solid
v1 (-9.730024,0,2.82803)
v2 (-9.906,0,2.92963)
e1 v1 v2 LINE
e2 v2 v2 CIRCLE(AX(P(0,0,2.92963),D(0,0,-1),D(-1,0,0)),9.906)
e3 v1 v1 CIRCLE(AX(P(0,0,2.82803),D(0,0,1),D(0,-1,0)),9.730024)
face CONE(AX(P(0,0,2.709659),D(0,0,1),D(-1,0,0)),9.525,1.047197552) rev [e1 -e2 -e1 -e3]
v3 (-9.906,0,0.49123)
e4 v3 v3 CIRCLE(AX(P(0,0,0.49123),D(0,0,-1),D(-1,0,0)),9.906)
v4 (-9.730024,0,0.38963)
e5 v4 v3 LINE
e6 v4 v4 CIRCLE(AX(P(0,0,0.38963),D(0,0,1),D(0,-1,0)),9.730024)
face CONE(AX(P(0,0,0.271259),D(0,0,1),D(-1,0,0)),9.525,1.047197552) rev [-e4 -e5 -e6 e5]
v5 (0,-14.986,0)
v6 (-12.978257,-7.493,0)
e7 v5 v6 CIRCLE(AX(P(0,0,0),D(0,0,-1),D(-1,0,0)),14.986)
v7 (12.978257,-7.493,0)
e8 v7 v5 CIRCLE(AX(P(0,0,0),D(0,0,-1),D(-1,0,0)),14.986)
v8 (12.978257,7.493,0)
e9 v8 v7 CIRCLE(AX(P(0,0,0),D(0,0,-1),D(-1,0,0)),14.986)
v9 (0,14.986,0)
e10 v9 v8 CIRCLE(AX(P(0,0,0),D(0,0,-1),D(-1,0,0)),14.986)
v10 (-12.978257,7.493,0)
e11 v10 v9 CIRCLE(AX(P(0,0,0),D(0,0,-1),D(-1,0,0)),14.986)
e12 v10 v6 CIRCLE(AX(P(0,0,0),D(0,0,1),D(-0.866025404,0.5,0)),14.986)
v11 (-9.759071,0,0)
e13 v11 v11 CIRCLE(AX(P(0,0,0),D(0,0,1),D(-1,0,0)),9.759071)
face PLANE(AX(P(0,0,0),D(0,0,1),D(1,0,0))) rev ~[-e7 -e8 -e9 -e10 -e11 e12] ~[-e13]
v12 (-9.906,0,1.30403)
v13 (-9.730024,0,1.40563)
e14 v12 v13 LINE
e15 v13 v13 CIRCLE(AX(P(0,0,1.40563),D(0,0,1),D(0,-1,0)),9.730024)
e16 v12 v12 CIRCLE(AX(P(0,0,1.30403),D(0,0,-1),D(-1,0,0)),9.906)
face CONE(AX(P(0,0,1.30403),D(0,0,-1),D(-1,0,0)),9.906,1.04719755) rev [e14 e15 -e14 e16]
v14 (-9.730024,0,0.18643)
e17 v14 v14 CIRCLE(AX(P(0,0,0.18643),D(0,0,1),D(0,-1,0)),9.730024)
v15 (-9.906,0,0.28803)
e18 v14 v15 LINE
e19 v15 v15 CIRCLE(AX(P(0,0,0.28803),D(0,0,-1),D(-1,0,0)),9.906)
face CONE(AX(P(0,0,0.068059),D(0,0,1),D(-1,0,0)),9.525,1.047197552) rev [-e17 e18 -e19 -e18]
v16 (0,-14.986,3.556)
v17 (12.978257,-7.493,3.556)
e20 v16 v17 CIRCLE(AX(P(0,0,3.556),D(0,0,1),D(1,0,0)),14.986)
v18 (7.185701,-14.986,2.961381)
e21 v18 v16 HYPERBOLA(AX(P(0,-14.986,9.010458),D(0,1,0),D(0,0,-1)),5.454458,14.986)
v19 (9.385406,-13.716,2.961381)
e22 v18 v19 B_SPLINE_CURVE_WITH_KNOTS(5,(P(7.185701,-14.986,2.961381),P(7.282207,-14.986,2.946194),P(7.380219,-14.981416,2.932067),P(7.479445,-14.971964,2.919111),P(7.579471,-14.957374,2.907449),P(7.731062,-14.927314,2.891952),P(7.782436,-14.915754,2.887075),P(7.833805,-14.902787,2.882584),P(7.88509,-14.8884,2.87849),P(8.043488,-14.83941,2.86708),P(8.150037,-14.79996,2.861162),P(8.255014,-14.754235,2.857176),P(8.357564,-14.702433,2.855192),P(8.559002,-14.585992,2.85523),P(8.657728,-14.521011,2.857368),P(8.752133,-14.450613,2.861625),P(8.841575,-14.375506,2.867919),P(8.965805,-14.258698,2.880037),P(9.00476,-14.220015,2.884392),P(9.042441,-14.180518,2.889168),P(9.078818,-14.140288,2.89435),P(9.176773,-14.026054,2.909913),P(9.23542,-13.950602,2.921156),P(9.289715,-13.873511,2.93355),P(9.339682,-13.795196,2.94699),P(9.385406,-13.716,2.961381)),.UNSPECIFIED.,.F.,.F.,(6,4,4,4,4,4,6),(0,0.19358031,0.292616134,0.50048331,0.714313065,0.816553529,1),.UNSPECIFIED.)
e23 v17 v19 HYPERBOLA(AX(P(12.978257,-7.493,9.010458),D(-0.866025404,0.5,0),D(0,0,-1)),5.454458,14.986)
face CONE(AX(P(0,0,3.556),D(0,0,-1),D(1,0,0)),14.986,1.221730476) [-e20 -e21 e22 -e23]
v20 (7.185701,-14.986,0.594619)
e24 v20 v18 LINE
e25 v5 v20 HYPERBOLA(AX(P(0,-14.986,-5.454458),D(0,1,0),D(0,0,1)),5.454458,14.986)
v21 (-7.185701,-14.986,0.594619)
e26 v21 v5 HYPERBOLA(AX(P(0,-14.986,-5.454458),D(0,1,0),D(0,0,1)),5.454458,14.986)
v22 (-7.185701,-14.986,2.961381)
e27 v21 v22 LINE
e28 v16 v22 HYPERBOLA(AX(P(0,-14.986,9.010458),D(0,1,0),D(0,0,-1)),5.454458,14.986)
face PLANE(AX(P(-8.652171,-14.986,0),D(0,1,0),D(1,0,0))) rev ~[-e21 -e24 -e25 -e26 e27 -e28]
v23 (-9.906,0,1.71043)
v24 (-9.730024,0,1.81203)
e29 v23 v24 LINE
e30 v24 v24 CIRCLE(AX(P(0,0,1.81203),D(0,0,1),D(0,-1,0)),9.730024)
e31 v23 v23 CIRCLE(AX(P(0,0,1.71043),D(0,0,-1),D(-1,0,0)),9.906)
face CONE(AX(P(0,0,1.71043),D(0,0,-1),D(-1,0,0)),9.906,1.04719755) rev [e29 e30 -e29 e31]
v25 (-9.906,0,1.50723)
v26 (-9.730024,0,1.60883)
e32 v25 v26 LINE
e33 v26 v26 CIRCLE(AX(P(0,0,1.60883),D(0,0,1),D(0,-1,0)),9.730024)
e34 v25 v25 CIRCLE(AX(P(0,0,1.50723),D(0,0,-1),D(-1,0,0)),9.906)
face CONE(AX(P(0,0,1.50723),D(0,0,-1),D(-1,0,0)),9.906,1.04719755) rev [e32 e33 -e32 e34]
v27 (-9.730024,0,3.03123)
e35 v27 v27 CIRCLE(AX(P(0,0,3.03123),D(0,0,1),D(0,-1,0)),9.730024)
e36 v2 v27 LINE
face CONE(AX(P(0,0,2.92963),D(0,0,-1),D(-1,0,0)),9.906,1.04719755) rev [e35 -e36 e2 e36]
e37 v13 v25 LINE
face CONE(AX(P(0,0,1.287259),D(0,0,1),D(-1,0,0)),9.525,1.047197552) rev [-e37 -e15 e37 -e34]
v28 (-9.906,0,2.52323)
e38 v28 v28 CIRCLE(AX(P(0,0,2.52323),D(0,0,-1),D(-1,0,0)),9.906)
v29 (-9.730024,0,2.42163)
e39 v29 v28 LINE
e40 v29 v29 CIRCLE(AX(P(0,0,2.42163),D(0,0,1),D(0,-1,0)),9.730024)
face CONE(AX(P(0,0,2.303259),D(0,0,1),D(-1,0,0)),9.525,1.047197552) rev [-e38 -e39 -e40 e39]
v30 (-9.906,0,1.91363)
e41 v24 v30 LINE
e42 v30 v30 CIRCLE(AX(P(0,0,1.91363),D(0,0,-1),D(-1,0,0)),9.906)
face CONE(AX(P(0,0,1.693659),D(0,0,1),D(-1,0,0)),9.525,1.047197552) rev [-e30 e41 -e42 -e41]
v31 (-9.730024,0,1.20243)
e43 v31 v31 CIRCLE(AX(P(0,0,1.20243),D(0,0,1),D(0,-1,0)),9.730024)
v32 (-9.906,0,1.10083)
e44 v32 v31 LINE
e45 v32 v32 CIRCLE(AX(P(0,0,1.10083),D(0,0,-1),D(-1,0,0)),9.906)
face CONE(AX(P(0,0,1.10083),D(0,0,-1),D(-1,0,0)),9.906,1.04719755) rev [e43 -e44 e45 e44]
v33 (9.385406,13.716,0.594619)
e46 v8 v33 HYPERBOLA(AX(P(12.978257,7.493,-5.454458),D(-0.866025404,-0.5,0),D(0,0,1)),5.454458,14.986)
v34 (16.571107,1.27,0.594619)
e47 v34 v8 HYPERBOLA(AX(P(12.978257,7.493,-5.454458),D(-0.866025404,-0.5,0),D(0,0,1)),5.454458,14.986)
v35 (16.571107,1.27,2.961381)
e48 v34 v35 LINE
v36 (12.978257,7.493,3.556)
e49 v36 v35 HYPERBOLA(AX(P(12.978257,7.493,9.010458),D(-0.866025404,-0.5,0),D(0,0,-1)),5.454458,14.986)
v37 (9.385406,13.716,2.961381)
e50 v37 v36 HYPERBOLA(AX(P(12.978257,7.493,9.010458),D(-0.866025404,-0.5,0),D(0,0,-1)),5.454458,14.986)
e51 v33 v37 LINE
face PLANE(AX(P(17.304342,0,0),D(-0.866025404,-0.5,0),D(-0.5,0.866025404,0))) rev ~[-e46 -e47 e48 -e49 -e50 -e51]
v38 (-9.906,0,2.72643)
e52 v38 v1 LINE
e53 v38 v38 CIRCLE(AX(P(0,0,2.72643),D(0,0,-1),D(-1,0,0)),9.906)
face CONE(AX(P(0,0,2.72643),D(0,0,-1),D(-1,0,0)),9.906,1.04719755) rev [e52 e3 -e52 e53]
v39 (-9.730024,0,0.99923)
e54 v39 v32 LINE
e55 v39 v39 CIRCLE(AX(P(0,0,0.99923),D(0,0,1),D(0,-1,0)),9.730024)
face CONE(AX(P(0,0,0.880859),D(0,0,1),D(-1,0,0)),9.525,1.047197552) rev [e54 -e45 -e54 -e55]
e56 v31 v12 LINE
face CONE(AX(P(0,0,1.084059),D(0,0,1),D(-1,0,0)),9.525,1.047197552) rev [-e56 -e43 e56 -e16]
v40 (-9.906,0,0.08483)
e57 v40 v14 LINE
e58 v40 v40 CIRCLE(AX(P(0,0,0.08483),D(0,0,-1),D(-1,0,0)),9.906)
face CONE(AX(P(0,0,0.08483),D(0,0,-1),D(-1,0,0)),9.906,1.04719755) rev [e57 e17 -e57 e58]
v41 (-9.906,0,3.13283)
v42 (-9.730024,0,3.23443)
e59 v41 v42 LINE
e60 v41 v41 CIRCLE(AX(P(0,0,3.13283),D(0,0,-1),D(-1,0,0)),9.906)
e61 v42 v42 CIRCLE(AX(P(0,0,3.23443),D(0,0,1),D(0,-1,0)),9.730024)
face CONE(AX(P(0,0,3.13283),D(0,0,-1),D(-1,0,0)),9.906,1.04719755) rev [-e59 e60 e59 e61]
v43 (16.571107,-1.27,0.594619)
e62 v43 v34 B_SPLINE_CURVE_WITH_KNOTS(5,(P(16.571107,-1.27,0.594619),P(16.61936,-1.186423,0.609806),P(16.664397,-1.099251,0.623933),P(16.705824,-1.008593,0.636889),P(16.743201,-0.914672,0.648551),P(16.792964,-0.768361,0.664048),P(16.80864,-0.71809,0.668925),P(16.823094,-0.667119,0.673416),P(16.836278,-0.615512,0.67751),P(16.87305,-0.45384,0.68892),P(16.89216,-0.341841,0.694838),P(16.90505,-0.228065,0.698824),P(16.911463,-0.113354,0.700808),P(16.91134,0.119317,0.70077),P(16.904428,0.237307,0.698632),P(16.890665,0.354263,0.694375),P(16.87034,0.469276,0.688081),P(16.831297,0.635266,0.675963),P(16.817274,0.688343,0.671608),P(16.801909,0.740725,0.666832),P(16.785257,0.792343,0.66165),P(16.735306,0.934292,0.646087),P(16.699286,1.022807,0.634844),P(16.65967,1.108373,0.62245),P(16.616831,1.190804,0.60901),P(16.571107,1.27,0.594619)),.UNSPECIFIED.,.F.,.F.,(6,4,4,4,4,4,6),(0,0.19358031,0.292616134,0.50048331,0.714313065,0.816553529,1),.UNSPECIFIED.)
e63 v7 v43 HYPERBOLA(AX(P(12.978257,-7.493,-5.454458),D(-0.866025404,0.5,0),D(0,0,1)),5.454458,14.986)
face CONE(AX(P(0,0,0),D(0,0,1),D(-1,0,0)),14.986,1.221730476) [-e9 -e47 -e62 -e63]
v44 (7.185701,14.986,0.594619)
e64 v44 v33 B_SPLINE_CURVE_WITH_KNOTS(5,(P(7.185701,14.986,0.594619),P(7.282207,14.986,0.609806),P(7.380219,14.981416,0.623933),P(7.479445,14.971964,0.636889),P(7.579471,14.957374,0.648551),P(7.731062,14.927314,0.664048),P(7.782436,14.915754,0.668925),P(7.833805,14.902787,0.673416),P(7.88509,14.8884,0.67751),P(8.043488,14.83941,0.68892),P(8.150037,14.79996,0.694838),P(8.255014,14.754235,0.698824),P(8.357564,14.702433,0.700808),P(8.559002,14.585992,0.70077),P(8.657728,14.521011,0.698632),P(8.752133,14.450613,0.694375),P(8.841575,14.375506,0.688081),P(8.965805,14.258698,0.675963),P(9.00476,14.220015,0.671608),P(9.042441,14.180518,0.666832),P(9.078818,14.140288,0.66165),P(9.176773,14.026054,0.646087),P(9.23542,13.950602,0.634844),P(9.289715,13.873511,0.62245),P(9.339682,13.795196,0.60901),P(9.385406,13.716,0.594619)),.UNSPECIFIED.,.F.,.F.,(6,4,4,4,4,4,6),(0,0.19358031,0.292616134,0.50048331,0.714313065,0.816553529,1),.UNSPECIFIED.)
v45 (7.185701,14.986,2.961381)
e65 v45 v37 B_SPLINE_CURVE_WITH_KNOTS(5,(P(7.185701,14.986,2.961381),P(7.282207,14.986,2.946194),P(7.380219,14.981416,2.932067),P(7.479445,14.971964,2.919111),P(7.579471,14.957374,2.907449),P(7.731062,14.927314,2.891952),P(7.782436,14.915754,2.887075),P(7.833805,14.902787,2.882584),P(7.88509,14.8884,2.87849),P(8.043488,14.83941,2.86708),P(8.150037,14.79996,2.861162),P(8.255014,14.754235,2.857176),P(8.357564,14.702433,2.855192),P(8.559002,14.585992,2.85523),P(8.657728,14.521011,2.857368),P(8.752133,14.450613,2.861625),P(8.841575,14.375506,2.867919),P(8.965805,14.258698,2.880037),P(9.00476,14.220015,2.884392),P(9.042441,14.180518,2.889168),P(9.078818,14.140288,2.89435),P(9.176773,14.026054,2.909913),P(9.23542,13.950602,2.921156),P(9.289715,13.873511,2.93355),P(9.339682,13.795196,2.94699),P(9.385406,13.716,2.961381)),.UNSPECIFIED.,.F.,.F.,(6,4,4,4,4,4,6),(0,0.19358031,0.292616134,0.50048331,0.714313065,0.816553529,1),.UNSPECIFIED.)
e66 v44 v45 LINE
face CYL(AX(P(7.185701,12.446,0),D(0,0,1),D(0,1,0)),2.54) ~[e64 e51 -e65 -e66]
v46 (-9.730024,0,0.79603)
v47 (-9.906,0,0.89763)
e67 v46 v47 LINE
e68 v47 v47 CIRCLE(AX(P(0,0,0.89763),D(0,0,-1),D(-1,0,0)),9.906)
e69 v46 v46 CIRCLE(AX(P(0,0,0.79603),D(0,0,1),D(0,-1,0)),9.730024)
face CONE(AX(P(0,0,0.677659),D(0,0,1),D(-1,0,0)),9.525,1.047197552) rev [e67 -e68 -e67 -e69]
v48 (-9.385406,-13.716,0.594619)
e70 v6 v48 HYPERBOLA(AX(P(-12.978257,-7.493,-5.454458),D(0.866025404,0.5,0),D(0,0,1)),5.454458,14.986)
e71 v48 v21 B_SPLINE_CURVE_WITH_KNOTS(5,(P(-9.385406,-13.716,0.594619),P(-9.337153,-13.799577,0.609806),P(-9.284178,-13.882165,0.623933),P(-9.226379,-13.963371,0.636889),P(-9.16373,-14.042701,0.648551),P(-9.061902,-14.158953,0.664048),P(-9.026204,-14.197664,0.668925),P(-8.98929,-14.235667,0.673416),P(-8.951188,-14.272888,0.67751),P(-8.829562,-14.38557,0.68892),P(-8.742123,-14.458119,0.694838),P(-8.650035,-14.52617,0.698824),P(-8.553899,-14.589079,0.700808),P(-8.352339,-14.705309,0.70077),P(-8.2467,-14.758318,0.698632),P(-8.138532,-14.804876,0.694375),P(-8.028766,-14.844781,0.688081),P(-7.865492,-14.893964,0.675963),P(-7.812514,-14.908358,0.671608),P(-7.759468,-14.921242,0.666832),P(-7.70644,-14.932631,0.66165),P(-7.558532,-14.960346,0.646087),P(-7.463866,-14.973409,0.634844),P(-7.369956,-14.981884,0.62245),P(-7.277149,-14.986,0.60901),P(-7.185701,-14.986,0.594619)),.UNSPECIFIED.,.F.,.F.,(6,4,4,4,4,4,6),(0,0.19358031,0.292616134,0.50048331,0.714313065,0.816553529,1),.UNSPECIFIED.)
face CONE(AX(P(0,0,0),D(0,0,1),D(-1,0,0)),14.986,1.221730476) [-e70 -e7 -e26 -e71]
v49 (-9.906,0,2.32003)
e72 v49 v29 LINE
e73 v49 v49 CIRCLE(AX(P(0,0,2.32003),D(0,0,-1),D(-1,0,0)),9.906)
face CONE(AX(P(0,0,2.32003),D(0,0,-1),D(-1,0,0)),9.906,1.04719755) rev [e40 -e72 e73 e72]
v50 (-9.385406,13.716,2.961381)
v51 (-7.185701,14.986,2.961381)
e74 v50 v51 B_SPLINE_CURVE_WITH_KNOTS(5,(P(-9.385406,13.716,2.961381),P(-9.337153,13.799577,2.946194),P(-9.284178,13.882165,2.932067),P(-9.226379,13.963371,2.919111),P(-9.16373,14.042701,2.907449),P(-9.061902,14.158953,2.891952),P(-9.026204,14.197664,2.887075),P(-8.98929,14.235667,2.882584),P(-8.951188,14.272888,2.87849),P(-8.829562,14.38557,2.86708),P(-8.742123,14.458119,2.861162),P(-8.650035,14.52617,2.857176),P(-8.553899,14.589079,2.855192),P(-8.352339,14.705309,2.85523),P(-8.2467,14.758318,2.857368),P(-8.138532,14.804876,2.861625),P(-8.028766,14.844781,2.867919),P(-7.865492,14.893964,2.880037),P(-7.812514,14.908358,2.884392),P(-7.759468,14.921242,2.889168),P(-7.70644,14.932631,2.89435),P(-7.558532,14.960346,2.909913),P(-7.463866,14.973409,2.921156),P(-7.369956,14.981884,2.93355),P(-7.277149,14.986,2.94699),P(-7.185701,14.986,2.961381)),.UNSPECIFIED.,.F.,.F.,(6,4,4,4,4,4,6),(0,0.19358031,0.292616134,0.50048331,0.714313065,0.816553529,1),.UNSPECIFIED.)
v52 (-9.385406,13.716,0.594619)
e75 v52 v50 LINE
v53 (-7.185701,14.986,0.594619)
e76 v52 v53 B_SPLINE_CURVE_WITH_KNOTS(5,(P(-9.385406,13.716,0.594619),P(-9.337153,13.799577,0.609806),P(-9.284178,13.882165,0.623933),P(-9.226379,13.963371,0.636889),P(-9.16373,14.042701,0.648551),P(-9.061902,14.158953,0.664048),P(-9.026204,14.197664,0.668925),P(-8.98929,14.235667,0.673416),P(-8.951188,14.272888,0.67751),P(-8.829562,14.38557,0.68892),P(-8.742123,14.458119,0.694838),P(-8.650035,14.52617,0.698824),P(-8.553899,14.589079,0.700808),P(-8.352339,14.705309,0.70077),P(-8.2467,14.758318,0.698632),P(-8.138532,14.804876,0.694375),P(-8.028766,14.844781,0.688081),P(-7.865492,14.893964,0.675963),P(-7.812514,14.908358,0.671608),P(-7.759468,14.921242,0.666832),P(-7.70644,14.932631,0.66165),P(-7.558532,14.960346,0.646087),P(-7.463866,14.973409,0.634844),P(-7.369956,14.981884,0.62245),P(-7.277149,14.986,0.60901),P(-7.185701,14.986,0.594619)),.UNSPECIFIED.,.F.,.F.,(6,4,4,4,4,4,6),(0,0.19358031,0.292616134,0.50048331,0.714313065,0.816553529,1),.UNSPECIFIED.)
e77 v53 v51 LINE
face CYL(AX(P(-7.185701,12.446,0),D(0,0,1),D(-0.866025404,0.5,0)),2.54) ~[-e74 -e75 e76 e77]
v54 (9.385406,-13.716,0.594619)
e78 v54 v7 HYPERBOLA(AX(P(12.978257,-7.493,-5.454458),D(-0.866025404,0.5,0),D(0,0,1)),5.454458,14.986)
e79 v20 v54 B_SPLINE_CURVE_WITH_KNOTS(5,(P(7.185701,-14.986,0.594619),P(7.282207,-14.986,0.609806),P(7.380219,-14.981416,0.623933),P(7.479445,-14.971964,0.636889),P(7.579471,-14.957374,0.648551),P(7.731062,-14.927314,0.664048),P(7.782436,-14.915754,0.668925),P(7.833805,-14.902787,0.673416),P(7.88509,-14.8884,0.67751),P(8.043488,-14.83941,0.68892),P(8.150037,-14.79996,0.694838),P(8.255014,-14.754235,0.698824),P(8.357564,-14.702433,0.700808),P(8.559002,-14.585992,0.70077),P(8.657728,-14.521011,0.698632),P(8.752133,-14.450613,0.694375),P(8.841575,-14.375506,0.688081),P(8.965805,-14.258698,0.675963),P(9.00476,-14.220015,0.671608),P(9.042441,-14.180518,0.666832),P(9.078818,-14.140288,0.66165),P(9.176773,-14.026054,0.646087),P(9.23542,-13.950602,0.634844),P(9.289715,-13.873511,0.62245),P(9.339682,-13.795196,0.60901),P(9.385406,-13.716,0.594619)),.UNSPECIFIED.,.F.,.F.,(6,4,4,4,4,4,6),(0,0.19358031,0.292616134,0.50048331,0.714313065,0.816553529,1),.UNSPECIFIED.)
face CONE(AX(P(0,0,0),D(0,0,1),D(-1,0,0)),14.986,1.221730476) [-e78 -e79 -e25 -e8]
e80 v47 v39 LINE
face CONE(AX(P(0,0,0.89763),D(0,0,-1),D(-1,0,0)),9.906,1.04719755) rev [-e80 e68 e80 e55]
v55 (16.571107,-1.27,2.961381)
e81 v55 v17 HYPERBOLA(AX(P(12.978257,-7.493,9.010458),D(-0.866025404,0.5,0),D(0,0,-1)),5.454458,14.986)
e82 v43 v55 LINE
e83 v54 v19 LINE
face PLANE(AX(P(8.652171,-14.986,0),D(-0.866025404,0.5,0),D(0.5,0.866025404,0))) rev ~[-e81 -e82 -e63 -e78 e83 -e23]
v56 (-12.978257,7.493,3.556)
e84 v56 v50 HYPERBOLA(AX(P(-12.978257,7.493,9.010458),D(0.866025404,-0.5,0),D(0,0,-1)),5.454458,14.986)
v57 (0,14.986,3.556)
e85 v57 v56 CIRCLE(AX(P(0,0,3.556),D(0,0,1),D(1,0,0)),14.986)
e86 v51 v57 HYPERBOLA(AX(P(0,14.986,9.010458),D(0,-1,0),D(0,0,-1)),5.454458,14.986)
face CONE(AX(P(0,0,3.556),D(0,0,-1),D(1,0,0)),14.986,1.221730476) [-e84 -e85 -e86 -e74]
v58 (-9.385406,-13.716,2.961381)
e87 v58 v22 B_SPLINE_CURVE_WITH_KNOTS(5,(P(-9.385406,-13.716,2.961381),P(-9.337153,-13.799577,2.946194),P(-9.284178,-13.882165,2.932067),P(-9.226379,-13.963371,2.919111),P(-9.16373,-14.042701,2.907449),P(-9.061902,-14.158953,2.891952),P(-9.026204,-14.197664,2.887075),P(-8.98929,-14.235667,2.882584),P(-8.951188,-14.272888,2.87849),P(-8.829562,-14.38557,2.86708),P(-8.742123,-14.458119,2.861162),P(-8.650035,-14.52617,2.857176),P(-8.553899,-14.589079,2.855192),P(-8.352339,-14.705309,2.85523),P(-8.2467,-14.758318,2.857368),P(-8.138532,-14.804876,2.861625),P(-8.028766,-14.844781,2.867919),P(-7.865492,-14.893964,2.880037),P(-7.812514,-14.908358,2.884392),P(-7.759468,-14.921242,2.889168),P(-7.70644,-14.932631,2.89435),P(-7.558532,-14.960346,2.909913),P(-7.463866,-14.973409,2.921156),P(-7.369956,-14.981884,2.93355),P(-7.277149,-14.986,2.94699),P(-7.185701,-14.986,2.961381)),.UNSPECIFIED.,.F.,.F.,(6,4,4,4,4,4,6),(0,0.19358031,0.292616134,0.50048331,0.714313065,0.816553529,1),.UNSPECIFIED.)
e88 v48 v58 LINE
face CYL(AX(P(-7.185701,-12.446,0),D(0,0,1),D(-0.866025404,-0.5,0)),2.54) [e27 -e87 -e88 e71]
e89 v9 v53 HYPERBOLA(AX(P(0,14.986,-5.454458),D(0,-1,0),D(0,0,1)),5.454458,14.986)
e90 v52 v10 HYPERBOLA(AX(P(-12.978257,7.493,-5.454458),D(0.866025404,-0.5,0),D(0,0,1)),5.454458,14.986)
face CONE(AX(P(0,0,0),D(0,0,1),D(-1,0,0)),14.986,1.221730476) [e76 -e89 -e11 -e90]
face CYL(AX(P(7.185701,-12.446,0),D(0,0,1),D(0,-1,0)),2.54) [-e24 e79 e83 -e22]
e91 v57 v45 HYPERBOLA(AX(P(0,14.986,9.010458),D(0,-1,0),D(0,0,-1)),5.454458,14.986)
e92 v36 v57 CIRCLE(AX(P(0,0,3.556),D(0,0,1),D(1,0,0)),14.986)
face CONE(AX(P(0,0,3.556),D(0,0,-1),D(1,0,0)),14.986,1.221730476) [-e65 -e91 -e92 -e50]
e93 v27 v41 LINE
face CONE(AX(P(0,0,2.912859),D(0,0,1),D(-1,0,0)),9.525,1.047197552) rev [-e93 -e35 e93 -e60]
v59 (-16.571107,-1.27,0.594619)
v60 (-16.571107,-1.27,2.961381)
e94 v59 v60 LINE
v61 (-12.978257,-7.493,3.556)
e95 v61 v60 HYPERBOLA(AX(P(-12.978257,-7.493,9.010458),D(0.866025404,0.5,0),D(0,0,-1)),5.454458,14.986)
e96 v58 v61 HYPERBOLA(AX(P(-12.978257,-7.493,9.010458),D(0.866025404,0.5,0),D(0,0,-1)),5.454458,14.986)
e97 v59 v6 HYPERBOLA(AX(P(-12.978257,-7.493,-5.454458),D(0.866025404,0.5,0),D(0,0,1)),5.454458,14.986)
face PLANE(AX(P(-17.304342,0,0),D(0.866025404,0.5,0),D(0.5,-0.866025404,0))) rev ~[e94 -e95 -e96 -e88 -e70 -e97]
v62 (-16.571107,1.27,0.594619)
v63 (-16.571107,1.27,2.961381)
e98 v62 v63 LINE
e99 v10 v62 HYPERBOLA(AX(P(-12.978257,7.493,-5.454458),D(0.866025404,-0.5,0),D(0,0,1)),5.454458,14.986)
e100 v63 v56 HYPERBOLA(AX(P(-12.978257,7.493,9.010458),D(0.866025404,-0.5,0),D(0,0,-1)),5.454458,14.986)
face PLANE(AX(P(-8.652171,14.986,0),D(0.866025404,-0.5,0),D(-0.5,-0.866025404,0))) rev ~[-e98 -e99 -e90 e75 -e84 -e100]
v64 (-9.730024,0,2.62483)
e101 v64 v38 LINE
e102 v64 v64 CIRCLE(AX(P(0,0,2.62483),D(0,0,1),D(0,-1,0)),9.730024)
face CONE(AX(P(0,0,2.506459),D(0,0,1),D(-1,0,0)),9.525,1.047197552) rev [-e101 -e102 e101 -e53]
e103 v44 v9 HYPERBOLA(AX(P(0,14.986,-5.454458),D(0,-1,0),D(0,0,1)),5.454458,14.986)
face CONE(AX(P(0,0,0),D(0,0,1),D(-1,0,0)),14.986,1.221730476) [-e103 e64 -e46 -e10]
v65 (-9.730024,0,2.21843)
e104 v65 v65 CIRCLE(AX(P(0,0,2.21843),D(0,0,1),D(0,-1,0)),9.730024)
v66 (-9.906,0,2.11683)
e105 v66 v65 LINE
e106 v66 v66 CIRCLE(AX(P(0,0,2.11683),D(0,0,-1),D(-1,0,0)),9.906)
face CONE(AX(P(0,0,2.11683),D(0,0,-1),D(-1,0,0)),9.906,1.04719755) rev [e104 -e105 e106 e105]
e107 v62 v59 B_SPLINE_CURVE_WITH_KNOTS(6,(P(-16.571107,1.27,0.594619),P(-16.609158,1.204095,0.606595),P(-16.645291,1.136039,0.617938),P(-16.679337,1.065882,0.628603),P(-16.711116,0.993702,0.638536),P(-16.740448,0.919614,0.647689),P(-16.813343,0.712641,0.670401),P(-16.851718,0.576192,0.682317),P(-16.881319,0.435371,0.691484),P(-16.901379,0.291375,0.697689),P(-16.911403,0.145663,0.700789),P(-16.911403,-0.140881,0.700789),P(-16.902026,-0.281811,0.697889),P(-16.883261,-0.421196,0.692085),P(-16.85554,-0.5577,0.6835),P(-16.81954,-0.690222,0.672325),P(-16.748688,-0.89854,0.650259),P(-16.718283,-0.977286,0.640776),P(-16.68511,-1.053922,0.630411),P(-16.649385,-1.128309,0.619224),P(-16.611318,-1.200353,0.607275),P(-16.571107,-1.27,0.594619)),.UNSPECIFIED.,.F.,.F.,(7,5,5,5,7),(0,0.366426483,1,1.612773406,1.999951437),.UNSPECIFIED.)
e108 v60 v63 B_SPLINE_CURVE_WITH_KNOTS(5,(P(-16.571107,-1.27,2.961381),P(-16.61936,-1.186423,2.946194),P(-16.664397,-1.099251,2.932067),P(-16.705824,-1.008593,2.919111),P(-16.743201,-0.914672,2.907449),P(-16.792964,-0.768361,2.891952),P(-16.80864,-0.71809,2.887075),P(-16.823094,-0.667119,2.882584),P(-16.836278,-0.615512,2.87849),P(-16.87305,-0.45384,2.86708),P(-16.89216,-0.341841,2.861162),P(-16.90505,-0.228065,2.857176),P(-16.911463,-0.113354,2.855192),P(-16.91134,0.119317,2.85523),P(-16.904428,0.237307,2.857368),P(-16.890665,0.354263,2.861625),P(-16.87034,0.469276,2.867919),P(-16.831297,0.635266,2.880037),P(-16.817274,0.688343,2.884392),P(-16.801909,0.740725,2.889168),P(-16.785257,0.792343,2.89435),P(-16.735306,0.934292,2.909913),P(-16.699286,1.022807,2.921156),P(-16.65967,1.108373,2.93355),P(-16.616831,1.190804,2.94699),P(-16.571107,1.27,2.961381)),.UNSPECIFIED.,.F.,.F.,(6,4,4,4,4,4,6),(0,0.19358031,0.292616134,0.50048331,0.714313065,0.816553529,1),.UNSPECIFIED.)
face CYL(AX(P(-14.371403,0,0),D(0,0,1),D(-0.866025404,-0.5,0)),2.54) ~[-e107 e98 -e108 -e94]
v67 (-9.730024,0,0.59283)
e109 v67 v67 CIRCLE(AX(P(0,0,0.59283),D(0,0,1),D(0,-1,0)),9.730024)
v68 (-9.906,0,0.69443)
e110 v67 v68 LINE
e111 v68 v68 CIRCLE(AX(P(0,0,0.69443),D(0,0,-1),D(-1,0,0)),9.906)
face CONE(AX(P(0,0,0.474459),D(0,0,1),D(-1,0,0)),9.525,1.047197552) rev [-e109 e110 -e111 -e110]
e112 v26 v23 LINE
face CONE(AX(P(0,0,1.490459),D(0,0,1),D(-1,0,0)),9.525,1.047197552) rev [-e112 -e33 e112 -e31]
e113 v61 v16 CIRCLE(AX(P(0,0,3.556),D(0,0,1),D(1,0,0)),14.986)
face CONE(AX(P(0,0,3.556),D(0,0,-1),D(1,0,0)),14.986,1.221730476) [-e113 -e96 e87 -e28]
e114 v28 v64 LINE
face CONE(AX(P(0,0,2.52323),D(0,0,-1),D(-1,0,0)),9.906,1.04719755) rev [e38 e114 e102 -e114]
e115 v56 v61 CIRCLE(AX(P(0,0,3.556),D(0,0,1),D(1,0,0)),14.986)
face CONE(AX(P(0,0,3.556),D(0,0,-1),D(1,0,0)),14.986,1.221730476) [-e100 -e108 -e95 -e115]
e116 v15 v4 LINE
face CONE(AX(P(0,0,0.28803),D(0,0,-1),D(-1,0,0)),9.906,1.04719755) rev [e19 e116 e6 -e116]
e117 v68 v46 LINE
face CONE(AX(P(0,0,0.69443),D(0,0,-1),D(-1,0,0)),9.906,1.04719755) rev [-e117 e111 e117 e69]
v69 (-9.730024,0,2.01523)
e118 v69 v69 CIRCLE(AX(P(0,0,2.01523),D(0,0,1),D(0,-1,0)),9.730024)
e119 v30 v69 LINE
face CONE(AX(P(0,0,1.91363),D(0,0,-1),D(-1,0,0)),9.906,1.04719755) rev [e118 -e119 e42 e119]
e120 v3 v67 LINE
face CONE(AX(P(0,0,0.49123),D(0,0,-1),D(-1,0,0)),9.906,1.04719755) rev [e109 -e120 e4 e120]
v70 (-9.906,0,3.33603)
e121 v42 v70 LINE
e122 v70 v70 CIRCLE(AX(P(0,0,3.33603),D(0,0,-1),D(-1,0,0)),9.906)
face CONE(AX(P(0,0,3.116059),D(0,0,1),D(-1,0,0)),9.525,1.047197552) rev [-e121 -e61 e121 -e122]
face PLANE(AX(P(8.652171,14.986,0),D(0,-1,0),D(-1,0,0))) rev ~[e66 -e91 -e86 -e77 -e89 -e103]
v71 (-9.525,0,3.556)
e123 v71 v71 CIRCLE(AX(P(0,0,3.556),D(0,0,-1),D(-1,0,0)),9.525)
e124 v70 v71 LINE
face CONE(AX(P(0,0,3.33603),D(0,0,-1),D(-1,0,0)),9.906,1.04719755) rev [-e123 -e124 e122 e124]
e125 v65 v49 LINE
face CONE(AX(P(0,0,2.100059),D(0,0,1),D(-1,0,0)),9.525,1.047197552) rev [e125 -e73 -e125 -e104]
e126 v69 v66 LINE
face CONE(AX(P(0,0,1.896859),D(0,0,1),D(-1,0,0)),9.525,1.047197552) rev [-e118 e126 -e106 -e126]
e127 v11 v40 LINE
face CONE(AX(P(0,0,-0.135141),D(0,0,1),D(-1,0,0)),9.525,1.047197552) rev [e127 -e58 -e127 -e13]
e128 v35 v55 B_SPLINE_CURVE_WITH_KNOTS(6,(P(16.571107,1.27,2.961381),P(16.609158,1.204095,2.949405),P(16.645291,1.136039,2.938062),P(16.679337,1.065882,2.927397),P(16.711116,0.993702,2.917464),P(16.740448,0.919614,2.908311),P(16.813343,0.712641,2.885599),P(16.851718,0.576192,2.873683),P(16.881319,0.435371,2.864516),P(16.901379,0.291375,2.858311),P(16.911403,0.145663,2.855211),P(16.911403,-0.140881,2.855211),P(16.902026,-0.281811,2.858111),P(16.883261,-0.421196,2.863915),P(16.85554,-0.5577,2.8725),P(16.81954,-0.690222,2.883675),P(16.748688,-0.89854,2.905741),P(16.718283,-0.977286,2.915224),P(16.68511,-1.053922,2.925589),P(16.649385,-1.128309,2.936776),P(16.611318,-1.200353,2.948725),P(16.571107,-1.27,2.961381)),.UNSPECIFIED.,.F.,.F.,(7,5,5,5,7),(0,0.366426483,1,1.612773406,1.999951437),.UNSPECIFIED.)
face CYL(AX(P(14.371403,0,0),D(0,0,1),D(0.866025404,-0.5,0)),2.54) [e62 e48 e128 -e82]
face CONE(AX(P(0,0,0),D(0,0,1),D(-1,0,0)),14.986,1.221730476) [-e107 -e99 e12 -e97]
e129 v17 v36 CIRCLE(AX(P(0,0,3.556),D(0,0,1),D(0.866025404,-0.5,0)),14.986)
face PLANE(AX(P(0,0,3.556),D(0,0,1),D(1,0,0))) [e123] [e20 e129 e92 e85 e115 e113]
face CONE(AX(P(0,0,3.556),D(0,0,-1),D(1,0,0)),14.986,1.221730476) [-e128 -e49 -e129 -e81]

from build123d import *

# Parameters (mm, degrees)
SKETCH1_R          = 9.525
EXTRUDE1_DEPTH     = 3.556
FILLET1_R          = 2.54
SKETCH2_OUTSIDE_W  = 69.924
SKETCH2_OUTSIDE_H  = 66.074
SKETCH2_OUTSIDE_R  = 14.986
CUT_EXTRUDE1_DEPTH = 4.556
CUT_EXTRUDE1_DRAFT = -70
SKETCH3_OUTSIDE_W  = 69.924
SKETCH3_OUTSIDE_H  = 66.074
SKETCH3_OUTSIDE_R  = 14.986
CUT_EXTRUDE2_DEPTH = 4.5560001
CUT_EXTRUDE2_DRAFT = -70
LPATTERN1_COUNT    = 18
LPATTERN1_PITCH    = 0.2032


with BuildPart() as part:
    # Sketch1 → Extrude1 (new body)
    with BuildSketch(Plane.XY):
        Polygon((-17.304342268, 0), (-8.652171134, -14.986), (8.652171134, -14.986), (17.304342268, 0), (8.652171134, 14.986), (-8.652171134, 14.986), align=None)
        Circle(SKETCH1_R, mode=Mode.SUBTRACT)
    extrude(amount=EXTRUDE1_DEPTH)

    # Fillet1
    fillet1_edges = [part.edges().sort_by_distance(p)[0] for p in [
        (-8.652171134, 14.986, 1.778),
        (8.652171134, 14.986, 1.778),
        (17.304342268, 0, 1.778),
        (8.652171134, -14.986, 1.778),
        (-8.652171134, -14.986, 1.778),
        (-17.304342268, 0, 1.778),
    ]]
    fillet(fillet1_edges, radius=FILLET1_R)


with BuildPart() as cut_extrude1_tool:
    # Sketch2 outside → Cut-Extrude1 (with draft: the straight prism first)
    with BuildSketch(Plane.XY.offset(3.556)):
        Rectangle(SKETCH2_OUTSIDE_W, SKETCH2_OUTSIDE_H)
        Circle(SKETCH2_OUTSIDE_R, mode=Mode.SUBTRACT)
    extrude(amount=-CUT_EXTRUDE1_DEPTH)
    # Cut-Extrude1: the draft: its side faces are tilted about the plane it starts from
    cut_extrude1_sides = [cut_extrude1_tool.faces().sort_by_distance(p)[0] for p in [
        (0, -33.037, 1.278),
        (34.962, 0, 1.278),
        (0, 33.037, 1.278),
        (-34.962, 0, 1.278),
        (-14.986, 0, 1.278),
    ]]
    draft(cut_extrude1_sides, Plane.XY.offset(3.556), CUT_EXTRUDE1_DRAFT)


with BuildPart() as part_1:
    add(part.part)

    # Cut-Extrude1: cut by cut_extrude1_tool
    add(cut_extrude1_tool.part, mode=Mode.SUBTRACT)


with BuildPart() as cut_extrude2_tool:
    # Sketch3 outside → Cut-Extrude2 (with draft: the straight prism first)
    with BuildSketch(Plane(origin=(0, 0, 0), x_dir=(-1, 0, 0), z_dir=(0, 0, -1))):
        Rectangle(SKETCH3_OUTSIDE_W, SKETCH3_OUTSIDE_H)
        Circle(SKETCH3_OUTSIDE_R, mode=Mode.SUBTRACT)
    extrude(amount=-CUT_EXTRUDE2_DEPTH)
    # Cut-Extrude2: the draft: its side faces are tilted about the plane it starts from
    cut_extrude2_sides = [cut_extrude2_tool.faces().sort_by_distance(p)[0] for p in [
        (0, -33.037, 2.27800005),
        (-34.962, 0, 2.27800005),
        (0, 33.037, 2.27800005),
        (34.962, 0, 2.27800005),
        (14.986, 0, 2.27800005),
    ]]
    draft(cut_extrude2_sides, Plane(origin=(0, 0, 0), x_dir=(-1, 0, 0), z_dir=(0, 0, -1)), CUT_EXTRUDE2_DRAFT)


with BuildPart() as part_2:
    add(part_1.part)

    # Cut-Extrude2: cut by cut_extrude2_tool
    add(cut_extrude2_tool.part, mode=Mode.SUBTRACT)

    # Sketch4 → Cut-Revolve1 (revolve, cut)
    with BuildSketch(Plane(origin=(0, 0, 0), x_dir=(1, 0, 0), z_dir=(0, 1, 0))):
        Polygon((-9.525, -3.556), (-9.525, -3.116059095), (-9.906, -3.336029547), align=None)
    cut_revolve1 = revolve(axis=Axis((0, 0, 3.556), (0, 0, -1)), mode=Mode.SUBTRACT)

    # LPattern1: Cut-Revolve1 ×18
    with Locations(*[(0, 0, -i * LPATTERN1_PITCH) for i in range(1, LPATTERN1_COUNT)]):
        add(cut_revolve1, mode=Mode.SUBTRACT)


solid = part_2.part
